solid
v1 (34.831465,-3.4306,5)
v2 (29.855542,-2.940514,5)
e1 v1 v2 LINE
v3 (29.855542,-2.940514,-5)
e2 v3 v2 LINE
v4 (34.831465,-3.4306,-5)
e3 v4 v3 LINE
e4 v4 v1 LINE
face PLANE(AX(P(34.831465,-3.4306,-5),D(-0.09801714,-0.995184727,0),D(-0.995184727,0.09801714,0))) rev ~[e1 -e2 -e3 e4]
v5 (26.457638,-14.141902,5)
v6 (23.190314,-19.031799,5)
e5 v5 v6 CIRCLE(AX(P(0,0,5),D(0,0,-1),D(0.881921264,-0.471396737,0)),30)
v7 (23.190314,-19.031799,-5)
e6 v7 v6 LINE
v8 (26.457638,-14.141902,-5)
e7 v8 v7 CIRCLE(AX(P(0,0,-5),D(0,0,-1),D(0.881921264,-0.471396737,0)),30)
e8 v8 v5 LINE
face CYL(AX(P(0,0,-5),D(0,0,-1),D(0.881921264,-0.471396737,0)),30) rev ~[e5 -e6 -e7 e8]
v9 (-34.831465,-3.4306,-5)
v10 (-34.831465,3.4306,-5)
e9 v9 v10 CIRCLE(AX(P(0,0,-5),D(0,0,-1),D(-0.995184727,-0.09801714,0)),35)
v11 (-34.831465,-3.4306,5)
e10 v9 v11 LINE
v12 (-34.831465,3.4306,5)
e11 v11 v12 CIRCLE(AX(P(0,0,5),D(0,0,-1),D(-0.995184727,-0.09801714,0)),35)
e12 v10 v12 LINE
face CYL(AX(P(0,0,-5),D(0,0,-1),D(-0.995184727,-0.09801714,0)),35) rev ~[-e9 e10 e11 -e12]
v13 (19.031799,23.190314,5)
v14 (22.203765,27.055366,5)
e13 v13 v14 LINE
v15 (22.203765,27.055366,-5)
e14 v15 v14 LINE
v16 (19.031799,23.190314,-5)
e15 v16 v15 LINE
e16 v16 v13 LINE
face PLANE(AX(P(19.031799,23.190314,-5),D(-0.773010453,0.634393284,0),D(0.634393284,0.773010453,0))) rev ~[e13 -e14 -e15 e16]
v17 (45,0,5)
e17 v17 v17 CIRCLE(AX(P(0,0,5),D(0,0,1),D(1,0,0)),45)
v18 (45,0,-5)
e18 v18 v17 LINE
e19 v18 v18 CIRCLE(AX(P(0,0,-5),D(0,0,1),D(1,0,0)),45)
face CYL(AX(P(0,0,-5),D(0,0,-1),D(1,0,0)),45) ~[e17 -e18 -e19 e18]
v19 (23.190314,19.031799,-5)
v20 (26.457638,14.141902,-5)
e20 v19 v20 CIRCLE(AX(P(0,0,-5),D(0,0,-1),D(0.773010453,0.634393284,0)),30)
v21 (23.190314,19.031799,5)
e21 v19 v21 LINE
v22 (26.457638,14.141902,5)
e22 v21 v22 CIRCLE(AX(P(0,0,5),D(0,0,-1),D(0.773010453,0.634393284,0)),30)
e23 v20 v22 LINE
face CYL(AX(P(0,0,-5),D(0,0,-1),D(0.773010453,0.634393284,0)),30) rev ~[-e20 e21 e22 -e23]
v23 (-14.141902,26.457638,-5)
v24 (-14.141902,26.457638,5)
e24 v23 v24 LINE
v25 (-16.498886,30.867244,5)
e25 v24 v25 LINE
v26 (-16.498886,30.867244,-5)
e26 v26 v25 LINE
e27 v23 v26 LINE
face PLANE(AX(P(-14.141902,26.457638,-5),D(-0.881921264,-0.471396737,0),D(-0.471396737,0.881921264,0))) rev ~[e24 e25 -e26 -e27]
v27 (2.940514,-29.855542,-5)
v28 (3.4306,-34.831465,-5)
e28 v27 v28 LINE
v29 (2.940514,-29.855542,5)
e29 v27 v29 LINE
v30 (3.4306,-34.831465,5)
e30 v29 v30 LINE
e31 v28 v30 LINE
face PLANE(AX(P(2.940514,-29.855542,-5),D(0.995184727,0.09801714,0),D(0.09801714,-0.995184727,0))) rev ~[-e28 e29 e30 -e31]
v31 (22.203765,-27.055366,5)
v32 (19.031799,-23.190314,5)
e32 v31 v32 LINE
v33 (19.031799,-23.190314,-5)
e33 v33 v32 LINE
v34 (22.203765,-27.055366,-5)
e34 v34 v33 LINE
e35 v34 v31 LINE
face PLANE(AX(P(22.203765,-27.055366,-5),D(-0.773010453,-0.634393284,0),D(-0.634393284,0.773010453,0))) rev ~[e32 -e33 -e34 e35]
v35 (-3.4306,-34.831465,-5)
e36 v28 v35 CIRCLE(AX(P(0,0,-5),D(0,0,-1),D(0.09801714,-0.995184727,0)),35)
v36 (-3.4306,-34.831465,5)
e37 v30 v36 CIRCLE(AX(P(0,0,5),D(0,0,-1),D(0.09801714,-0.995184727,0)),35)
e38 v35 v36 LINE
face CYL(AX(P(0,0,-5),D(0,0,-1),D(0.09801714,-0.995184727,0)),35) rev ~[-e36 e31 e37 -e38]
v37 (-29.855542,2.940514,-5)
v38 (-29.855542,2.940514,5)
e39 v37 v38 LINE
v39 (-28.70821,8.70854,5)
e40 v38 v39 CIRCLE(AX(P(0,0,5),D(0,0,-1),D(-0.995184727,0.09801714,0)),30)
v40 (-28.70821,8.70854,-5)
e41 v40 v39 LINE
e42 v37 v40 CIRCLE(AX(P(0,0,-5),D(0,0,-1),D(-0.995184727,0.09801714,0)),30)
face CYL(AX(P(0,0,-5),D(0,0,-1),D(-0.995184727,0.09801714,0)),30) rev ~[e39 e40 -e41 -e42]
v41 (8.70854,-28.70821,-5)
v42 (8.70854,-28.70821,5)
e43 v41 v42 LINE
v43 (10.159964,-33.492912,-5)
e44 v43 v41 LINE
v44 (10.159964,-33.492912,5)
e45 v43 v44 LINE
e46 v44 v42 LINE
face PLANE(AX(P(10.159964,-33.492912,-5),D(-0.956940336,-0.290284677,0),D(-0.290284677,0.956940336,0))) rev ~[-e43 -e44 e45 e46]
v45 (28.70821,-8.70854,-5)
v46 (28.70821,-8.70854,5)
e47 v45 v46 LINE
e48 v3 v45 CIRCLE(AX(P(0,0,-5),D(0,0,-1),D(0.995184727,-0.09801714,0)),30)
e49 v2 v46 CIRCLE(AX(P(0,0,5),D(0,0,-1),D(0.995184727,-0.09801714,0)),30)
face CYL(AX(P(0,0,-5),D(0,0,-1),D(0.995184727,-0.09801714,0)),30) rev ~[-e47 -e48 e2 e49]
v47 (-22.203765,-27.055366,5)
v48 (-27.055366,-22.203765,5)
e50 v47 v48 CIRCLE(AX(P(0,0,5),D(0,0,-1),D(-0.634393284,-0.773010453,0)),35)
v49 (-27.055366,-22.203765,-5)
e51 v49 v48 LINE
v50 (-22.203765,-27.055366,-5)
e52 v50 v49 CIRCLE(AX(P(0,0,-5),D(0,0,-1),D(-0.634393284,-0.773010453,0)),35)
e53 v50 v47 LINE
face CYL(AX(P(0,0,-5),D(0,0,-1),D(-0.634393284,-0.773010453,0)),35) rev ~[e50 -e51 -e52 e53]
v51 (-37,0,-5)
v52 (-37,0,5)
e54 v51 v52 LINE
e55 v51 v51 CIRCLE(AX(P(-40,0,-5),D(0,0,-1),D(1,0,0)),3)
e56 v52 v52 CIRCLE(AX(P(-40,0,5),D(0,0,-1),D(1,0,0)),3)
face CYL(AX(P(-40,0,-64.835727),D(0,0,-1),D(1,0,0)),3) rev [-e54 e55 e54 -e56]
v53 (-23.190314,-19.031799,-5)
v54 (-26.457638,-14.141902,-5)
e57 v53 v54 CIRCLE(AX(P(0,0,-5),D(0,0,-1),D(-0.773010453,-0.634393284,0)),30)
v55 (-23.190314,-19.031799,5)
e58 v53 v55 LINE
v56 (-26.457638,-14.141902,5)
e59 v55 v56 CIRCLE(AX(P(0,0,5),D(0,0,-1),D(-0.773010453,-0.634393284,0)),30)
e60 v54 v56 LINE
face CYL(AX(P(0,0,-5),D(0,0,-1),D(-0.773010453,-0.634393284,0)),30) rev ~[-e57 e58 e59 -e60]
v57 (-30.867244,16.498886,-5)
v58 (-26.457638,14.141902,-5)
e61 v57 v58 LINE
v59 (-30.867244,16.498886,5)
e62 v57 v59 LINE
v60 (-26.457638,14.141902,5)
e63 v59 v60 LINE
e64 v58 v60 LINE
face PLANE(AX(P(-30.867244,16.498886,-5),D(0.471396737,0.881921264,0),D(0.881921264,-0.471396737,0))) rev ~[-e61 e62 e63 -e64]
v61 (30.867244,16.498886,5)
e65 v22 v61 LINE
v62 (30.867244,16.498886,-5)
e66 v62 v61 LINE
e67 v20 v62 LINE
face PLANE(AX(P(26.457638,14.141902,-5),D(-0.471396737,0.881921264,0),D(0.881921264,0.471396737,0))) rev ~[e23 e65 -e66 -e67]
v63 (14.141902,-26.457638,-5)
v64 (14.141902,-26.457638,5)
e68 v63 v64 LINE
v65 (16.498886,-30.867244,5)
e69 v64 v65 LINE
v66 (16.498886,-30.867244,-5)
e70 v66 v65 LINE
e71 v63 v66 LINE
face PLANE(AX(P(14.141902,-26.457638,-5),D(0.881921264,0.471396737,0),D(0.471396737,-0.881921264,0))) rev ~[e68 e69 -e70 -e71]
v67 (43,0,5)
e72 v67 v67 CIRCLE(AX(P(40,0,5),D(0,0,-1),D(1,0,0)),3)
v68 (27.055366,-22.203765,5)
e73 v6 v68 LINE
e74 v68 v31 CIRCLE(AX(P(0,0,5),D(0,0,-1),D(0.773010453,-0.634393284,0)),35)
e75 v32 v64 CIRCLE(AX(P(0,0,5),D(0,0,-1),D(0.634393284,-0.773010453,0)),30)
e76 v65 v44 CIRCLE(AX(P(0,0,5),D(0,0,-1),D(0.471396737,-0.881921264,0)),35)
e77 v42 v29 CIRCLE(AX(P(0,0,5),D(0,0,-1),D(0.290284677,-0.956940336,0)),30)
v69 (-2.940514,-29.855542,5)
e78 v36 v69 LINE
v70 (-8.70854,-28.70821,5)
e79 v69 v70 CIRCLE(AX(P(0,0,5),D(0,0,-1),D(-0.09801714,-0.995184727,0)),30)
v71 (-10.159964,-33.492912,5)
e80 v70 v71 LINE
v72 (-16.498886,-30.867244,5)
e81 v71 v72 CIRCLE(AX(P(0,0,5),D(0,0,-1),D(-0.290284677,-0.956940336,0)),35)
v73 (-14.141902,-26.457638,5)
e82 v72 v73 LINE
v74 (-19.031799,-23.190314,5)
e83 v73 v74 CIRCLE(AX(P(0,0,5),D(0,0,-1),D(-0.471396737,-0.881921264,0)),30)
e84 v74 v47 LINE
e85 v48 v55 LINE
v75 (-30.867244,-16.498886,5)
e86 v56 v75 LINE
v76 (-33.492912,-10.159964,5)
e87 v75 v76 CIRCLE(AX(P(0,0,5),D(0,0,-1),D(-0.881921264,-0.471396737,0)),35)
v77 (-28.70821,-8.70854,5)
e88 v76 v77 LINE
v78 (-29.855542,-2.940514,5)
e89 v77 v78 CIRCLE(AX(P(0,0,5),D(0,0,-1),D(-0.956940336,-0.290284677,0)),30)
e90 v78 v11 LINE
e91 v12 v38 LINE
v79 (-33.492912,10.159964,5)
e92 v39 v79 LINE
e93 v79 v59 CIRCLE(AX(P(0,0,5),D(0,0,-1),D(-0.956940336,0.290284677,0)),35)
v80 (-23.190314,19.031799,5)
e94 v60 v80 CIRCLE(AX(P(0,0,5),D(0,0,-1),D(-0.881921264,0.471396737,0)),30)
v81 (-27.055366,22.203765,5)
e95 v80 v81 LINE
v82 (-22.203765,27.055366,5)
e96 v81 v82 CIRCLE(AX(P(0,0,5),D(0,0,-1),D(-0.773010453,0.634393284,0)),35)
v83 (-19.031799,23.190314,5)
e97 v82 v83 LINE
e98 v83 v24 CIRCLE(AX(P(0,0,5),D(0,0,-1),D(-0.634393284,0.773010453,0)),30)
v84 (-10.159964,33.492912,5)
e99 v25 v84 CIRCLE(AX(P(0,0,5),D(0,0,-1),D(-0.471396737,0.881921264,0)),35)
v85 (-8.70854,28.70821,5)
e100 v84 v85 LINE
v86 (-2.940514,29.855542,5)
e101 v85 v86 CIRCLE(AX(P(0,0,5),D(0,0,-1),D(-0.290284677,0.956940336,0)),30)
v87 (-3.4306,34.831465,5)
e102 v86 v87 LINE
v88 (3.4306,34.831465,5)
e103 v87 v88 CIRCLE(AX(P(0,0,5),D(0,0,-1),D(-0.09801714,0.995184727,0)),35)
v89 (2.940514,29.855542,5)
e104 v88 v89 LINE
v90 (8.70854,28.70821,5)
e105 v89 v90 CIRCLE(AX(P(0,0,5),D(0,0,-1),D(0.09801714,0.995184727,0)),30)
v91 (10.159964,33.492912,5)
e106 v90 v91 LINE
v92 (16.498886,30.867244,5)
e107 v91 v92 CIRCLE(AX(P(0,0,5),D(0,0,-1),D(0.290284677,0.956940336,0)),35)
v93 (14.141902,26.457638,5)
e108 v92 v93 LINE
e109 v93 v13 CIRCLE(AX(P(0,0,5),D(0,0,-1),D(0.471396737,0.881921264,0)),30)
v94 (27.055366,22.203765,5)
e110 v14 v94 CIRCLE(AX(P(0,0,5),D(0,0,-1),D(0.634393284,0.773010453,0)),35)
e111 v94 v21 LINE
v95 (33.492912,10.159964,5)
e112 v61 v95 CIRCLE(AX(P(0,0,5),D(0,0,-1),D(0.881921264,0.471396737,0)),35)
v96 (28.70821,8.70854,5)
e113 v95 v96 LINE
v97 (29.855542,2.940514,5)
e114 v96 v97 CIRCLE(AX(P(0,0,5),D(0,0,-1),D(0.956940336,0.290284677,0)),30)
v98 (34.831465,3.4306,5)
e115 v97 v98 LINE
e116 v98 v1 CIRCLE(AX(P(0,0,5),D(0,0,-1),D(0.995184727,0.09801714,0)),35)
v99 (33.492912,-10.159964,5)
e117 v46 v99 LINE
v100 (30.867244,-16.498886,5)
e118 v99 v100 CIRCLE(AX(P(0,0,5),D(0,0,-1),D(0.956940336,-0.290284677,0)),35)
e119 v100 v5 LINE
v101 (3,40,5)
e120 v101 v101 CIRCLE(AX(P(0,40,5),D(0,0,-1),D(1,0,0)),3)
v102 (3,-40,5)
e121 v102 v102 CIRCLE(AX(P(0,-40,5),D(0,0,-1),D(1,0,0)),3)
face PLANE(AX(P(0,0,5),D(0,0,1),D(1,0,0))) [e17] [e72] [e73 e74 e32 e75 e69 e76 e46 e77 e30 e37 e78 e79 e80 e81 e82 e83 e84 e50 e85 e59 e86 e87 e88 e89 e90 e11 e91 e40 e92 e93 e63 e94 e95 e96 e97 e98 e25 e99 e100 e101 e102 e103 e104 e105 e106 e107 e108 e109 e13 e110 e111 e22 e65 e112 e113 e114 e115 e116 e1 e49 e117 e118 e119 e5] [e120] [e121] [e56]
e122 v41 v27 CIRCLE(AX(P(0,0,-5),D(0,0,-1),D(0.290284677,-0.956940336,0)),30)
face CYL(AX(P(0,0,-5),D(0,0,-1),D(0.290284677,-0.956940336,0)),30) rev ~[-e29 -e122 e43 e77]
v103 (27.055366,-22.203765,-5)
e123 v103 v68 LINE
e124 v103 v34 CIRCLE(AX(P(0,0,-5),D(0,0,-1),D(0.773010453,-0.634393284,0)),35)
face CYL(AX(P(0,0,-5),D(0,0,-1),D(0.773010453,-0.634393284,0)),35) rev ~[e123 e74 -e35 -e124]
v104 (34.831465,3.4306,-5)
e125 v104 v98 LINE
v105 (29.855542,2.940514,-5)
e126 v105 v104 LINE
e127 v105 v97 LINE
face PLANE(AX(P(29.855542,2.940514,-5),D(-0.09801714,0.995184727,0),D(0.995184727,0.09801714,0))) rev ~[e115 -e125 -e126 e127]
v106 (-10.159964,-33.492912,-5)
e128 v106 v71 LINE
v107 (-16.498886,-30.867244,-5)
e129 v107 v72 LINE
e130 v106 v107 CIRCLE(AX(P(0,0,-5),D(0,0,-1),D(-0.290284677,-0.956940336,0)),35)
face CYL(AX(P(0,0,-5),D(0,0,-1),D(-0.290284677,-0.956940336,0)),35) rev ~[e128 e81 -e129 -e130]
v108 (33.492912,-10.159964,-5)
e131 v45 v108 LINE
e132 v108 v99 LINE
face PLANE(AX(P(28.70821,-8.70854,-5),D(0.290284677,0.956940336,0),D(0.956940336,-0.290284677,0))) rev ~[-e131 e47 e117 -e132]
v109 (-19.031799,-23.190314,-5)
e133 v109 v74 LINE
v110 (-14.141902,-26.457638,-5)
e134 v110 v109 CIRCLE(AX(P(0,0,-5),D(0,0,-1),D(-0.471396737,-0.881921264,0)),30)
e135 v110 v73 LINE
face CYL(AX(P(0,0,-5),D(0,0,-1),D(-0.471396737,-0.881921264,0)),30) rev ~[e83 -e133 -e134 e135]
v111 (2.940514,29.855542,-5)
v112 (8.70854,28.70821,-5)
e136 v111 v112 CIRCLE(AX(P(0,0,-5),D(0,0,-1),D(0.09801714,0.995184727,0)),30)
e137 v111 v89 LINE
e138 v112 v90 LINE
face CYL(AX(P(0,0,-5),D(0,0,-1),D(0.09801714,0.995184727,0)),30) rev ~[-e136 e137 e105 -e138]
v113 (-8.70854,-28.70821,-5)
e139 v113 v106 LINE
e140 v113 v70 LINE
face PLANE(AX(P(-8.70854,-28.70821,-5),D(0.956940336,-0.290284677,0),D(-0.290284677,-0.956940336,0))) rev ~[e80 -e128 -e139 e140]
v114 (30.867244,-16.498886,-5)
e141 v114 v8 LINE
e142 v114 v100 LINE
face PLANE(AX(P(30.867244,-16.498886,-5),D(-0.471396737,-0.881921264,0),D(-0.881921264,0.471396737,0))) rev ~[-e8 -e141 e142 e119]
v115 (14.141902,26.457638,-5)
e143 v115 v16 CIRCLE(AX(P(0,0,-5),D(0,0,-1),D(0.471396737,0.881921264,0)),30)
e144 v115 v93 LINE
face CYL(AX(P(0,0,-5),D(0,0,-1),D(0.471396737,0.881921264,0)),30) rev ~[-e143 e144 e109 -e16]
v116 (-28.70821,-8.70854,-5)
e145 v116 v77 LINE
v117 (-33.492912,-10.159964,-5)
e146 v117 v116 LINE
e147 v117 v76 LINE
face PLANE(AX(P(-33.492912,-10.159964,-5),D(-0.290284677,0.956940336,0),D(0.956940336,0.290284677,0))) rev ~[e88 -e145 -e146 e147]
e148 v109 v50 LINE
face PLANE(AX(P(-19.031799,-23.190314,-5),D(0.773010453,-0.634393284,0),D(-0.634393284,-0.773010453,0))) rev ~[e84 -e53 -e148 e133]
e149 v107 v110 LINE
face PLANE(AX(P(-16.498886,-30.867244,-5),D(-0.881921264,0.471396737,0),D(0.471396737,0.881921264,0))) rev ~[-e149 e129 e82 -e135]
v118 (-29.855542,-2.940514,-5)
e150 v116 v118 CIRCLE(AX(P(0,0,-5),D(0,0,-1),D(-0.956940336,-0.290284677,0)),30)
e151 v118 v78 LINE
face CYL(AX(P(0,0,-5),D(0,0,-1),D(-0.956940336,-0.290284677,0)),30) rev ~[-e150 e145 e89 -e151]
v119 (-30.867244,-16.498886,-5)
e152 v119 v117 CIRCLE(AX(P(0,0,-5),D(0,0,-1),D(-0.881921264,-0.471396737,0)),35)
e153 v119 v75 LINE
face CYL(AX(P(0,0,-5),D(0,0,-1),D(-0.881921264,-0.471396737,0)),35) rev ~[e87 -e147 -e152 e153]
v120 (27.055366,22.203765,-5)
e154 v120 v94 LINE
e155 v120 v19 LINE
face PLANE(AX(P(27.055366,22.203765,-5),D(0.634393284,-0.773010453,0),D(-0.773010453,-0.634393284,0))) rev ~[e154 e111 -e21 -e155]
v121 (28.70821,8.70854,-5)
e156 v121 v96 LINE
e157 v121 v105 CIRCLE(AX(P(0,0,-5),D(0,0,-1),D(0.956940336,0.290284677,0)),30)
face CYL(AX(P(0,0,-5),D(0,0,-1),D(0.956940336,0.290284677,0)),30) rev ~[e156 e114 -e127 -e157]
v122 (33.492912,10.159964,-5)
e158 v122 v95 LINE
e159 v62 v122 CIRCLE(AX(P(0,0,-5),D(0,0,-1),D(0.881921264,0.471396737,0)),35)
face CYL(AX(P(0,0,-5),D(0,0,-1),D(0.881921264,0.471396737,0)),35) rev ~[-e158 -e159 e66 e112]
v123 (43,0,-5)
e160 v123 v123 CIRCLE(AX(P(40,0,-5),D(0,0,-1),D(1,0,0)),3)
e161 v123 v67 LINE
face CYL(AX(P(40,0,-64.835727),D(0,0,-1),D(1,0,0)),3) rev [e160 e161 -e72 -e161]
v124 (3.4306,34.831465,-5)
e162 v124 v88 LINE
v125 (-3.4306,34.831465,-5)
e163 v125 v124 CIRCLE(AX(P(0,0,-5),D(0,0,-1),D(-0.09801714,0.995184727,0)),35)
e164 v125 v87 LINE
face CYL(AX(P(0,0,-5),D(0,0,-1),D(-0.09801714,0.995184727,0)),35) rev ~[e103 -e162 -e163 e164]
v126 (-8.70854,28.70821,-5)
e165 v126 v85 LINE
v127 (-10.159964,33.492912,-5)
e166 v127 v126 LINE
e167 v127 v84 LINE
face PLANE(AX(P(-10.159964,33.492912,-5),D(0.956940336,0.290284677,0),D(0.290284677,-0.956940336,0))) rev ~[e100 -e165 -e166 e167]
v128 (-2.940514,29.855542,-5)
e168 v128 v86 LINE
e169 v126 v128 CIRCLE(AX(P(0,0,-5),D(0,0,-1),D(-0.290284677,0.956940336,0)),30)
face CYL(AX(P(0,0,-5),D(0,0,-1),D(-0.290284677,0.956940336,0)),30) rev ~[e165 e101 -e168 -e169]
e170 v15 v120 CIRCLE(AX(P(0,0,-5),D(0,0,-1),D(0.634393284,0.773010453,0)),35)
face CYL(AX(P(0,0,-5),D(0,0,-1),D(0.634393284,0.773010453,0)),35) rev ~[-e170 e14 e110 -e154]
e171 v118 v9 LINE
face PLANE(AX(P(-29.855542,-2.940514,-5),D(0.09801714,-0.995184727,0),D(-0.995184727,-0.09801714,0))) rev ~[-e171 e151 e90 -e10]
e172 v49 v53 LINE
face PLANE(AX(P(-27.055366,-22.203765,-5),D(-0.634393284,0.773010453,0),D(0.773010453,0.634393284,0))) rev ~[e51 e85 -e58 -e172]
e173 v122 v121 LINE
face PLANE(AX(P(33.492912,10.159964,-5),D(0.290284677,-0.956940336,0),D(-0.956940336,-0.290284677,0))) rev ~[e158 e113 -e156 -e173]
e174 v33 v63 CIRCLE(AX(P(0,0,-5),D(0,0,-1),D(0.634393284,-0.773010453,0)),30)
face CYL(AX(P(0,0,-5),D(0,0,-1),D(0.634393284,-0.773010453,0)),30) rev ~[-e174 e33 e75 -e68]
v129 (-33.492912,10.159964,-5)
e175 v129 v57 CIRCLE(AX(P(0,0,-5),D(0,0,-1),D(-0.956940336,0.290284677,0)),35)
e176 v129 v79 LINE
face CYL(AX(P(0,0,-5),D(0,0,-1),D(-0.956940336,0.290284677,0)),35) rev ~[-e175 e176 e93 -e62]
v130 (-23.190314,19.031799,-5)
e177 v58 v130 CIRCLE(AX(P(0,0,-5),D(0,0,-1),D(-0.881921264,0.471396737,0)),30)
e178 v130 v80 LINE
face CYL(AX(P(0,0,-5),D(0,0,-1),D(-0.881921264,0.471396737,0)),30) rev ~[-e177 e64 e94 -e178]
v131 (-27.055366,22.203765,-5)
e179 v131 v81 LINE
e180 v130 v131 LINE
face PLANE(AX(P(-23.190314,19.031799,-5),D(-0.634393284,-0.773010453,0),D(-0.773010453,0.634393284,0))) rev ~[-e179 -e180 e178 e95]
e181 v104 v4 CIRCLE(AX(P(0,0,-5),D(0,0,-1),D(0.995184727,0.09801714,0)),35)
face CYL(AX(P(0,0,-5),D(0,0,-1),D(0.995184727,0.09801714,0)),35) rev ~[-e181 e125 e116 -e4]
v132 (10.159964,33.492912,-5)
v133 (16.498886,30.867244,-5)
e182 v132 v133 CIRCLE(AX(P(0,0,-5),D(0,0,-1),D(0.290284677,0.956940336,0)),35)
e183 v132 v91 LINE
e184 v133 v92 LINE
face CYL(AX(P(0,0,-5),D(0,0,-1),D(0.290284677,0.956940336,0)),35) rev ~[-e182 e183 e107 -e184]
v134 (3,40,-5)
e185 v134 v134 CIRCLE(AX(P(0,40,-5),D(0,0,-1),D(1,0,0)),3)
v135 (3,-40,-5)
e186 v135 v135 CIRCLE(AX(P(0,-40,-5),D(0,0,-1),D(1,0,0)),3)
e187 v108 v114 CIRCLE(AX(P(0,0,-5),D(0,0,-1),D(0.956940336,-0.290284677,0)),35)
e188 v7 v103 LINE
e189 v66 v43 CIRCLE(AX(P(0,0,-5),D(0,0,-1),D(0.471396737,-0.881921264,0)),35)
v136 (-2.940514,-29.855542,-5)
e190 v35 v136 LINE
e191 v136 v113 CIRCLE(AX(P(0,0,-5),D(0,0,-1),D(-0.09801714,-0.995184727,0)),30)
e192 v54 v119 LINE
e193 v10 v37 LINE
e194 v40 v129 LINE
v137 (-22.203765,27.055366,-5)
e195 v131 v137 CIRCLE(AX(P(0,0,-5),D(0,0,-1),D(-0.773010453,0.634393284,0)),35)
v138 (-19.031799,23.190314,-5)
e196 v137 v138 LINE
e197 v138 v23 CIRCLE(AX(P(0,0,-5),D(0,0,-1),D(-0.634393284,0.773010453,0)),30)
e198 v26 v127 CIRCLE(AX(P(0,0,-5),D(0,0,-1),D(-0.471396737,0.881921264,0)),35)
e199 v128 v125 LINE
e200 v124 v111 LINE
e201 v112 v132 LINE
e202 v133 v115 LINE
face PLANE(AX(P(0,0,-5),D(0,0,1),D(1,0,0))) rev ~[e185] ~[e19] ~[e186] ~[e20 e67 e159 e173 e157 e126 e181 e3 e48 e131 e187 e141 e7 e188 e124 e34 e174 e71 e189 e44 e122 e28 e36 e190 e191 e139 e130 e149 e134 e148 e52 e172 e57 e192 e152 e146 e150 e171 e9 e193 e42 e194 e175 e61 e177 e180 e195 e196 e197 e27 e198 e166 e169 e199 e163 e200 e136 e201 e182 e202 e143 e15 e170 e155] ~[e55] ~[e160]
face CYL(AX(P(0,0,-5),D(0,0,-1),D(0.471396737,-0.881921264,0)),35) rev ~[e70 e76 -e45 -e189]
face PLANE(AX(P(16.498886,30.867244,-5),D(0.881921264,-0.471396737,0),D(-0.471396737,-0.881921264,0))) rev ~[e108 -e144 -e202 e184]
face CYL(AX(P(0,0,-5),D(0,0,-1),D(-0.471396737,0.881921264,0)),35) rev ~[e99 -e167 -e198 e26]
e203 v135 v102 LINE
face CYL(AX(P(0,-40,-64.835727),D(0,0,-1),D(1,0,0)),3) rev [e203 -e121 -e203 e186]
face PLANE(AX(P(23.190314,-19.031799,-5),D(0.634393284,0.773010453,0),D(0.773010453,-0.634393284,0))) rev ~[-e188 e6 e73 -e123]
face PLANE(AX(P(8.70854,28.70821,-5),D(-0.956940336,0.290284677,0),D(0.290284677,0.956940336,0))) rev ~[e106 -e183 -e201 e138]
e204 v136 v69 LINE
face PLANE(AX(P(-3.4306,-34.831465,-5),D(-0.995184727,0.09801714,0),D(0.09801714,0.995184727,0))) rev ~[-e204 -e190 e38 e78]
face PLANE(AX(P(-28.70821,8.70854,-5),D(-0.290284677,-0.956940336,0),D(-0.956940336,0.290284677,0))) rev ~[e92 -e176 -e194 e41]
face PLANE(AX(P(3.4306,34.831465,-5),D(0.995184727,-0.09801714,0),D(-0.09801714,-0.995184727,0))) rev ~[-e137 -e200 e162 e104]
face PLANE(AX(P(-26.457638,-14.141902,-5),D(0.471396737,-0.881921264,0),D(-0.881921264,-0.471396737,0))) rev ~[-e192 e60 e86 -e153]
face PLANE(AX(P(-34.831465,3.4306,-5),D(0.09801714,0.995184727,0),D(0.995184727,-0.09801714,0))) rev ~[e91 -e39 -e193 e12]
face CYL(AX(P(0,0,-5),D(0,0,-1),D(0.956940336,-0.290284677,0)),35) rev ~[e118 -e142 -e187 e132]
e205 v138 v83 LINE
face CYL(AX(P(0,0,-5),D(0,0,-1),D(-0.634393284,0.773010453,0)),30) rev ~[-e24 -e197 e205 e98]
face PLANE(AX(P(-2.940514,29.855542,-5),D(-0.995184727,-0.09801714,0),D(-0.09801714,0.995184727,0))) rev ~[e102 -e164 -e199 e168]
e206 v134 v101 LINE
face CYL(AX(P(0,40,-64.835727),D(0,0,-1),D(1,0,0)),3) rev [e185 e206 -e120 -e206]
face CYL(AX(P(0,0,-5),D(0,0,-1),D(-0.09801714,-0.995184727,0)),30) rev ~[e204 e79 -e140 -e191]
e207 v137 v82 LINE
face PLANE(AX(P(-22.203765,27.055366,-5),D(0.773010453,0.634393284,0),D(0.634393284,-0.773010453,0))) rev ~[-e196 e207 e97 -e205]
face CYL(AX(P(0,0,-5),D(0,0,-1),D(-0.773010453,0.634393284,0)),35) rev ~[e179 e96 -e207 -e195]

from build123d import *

# Parameters (mm, degrees)
EXTRUDE_1_DEPTH          = 5
EXTRUDE_1_DEPTH_BACK     = 5
SKETCH_1_R               = 45
CUT_EXTRUDE_1_DEPTH      = 64.835726674
CUT_EXTRUDE_1_DEPTH_BACK = 64.835726674
SKETCH_2_R               = 3


with BuildPart() as part:
    # 草图1 → 凸台-拉伸1 (new, two sides: drawn at the far end of the back side and taken through both)
    with BuildSketch(Plane.XY.offset(-EXTRUDE_1_DEPTH_BACK)):
        Circle(SKETCH_1_R)
        with BuildLine():
            Line((29.8555418, 2.94051421), (34.831465434, 3.430599912))
            ThreePointArc((34.831465434, 3.430599912), (35, 0), (34.831465434, -3.430599912))
            Line((34.831465434, -3.430599912), (29.8555418, -2.94051421))
            ThreePointArc((29.8555418, -2.94051421), (29.423558412, -5.85270966), (28.708210072, -8.708540318))
            Line((28.708210072, -8.708540318), (33.492911751, -10.159963704))
            ThreePointArc((33.492911751, -10.159963704), (32.335783638, -13.393920133), (30.867244252, -16.498885789))
            Line((30.867244252, -16.498885789), (26.45763793, -14.141902105))
            ThreePointArc((26.45763793, -14.141902105), (24.944088369, -16.667106991), (23.190313601, -19.031798525))
            Line((23.190313601, -19.031798525), (27.055365868, -22.203764946))
            ThreePointArc((27.055365868, -22.203764946), (24.748737342, -24.748737342), (22.203764946, -27.055365868))
            Line((22.203764946, -27.055365868), (19.031798525, -23.190313601))
            ThreePointArc((19.031798525, -23.190313601), (16.667106991, -24.944088369), (14.141902105, -26.45763793))
            Line((14.141902105, -26.45763793), (16.498885789, -30.867244252))
            ThreePointArc((16.498885789, -30.867244252), (13.393920133, -32.335783638), (10.159963704, -33.492911751))
            Line((10.159963704, -33.492911751), (8.708540318, -28.708210072))
            ThreePointArc((8.708540318, -28.708210072), (5.85270966, -29.423558412), (2.94051421, -29.8555418))
            Line((2.94051421, -29.8555418), (3.430599912, -34.831465434))
            ThreePointArc((3.430599912, -34.831465434), (0, -35), (-3.430599912, -34.831465434))
            Line((-3.430599912, -34.831465434), (-2.94051421, -29.8555418))
            ThreePointArc((-2.94051421, -29.8555418), (-5.85270966, -29.423558412), (-8.708540318, -28.708210072))
            Line((-8.708540318, -28.708210072), (-10.159963704, -33.492911751))
            ThreePointArc((-10.159963704, -33.492911751), (-13.393920133, -32.335783638), (-16.498885789, -30.867244252))
            Line((-16.498885789, -30.867244252), (-14.141902105, -26.45763793))
            ThreePointArc((-14.141902105, -26.45763793), (-16.667106991, -24.944088369), (-19.031798525, -23.190313601))
            Line((-19.031798525, -23.190313601), (-22.203764946, -27.055365868))
            ThreePointArc((-22.203764946, -27.055365868), (-24.748737342, -24.748737342), (-27.055365868, -22.203764946))
            Line((-27.055365868, -22.203764946), (-23.190313601, -19.031798525))
            ThreePointArc((-23.190313601, -19.031798525), (-24.944088369, -16.667106991), (-26.45763793, -14.141902105))
            Line((-26.45763793, -14.141902105), (-30.867244252, -16.498885789))
            ThreePointArc((-30.867244252, -16.498885789), (-32.335783638, -13.393920133), (-33.492911751, -10.159963704))
            Line((-33.492911751, -10.159963704), (-28.708210072, -8.708540318))
            ThreePointArc((-28.708210072, -8.708540318), (-29.423558412, -5.85270966), (-29.8555418, -2.94051421))
            Line((-29.8555418, -2.94051421), (-34.831465434, -3.430599912))
            ThreePointArc((-34.831465434, -3.430599912), (-35, 0), (-34.831465434, 3.430599912))
            Line((-34.831465434, 3.430599912), (-29.8555418, 2.94051421))
            ThreePointArc((-29.8555418, 2.94051421), (-29.423558412, 5.85270966), (-28.708210072, 8.708540318))
            Line((-28.708210072, 8.708540318), (-33.492911751, 10.159963704))
            ThreePointArc((-33.492911751, 10.159963704), (-32.335783638, 13.393920133), (-30.867244252, 16.498885789))
            Line((-30.867244252, 16.498885789), (-26.45763793, 14.141902105))
            ThreePointArc((-26.45763793, 14.141902105), (-24.944088369, 16.667106991), (-23.190313601, 19.031798525))
            Line((-23.190313601, 19.031798525), (-27.055365868, 22.203764946))
            ThreePointArc((-27.055365868, 22.203764946), (-24.748737342, 24.748737342), (-22.203764946, 27.055365868))
            Line((-22.203764946, 27.055365868), (-19.031798525, 23.190313601))
            ThreePointArc((-19.031798525, 23.190313601), (-16.667106991, 24.944088369), (-14.141902105, 26.45763793))
            Line((-14.141902105, 26.45763793), (-16.498885789, 30.867244252))
            ThreePointArc((-16.498885789, 30.867244252), (-13.393920133, 32.335783638), (-10.159963704, 33.492911751))
            Line((-10.159963704, 33.492911751), (-8.708540318, 28.708210072))
            ThreePointArc((-8.708540318, 28.708210072), (-5.85270966, 29.423558412), (-2.94051421, 29.8555418))
            Line((-2.94051421, 29.8555418), (-3.430599912, 34.831465434))
            ThreePointArc((-3.430599912, 34.831465434), (0, 35), (3.430599912, 34.831465434))
            Line((3.430599912, 34.831465434), (2.94051421, 29.8555418))
            ThreePointArc((2.94051421, 29.8555418), (5.85270966, 29.423558412), (8.708540318, 28.708210072))
            Line((8.708540318, 28.708210072), (10.159963704, 33.492911751))
            ThreePointArc((10.159963704, 33.492911751), (13.393920133, 32.335783638), (16.498885789, 30.867244252))
            Line((16.498885789, 30.867244252), (14.141902105, 26.45763793))
            ThreePointArc((14.141902105, 26.45763793), (16.667106991, 24.944088369), (19.031798525, 23.190313601))
            Line((19.031798525, 23.190313601), (22.203764946, 27.055365868))
            ThreePointArc((22.203764946, 27.055365868), (24.748737342, 24.748737342), (27.055365868, 22.203764946))
            Line((27.055365868, 22.203764946), (23.190313601, 19.031798525))
            ThreePointArc((23.190313601, 19.031798525), (24.944088369, 16.667106991), (26.45763793, 14.141902105))
            Line((26.45763793, 14.141902105), (30.867244252, 16.498885789))
            ThreePointArc((30.867244252, 16.498885789), (32.335783638, 13.393920133), (33.492911751, 10.159963704))
            Line((33.492911751, 10.159963704), (28.708210072, 8.708540318))
            ThreePointArc((28.708210072, 8.708540318), (29.423558412, 5.85270966), (29.8555418, 2.94051421))
        make_face(mode=Mode.SUBTRACT)
    extrude(amount=EXTRUDE_1_DEPTH + EXTRUDE_1_DEPTH_BACK)

    # 草图2 → 切除-拉伸1 (cut, two sides: drawn at the far end of the back side and taken through both)
    with BuildSketch(Plane.XY.offset(-CUT_EXTRUDE_1_DEPTH_BACK)):
        with Locations((40, 0)):
            Circle(SKETCH_2_R)
        with Locations((0, -40)):
            Circle(SKETCH_2_R)
        with Locations((-40, 0)):
            Circle(SKETCH_2_R)
        with Locations((0, 40)):
            Circle(SKETCH_2_R)
    extrude(amount=CUT_EXTRUDE_1_DEPTH + CUT_EXTRUDE_1_DEPTH_BACK, mode=Mode.SUBTRACT)


solid = part.part
